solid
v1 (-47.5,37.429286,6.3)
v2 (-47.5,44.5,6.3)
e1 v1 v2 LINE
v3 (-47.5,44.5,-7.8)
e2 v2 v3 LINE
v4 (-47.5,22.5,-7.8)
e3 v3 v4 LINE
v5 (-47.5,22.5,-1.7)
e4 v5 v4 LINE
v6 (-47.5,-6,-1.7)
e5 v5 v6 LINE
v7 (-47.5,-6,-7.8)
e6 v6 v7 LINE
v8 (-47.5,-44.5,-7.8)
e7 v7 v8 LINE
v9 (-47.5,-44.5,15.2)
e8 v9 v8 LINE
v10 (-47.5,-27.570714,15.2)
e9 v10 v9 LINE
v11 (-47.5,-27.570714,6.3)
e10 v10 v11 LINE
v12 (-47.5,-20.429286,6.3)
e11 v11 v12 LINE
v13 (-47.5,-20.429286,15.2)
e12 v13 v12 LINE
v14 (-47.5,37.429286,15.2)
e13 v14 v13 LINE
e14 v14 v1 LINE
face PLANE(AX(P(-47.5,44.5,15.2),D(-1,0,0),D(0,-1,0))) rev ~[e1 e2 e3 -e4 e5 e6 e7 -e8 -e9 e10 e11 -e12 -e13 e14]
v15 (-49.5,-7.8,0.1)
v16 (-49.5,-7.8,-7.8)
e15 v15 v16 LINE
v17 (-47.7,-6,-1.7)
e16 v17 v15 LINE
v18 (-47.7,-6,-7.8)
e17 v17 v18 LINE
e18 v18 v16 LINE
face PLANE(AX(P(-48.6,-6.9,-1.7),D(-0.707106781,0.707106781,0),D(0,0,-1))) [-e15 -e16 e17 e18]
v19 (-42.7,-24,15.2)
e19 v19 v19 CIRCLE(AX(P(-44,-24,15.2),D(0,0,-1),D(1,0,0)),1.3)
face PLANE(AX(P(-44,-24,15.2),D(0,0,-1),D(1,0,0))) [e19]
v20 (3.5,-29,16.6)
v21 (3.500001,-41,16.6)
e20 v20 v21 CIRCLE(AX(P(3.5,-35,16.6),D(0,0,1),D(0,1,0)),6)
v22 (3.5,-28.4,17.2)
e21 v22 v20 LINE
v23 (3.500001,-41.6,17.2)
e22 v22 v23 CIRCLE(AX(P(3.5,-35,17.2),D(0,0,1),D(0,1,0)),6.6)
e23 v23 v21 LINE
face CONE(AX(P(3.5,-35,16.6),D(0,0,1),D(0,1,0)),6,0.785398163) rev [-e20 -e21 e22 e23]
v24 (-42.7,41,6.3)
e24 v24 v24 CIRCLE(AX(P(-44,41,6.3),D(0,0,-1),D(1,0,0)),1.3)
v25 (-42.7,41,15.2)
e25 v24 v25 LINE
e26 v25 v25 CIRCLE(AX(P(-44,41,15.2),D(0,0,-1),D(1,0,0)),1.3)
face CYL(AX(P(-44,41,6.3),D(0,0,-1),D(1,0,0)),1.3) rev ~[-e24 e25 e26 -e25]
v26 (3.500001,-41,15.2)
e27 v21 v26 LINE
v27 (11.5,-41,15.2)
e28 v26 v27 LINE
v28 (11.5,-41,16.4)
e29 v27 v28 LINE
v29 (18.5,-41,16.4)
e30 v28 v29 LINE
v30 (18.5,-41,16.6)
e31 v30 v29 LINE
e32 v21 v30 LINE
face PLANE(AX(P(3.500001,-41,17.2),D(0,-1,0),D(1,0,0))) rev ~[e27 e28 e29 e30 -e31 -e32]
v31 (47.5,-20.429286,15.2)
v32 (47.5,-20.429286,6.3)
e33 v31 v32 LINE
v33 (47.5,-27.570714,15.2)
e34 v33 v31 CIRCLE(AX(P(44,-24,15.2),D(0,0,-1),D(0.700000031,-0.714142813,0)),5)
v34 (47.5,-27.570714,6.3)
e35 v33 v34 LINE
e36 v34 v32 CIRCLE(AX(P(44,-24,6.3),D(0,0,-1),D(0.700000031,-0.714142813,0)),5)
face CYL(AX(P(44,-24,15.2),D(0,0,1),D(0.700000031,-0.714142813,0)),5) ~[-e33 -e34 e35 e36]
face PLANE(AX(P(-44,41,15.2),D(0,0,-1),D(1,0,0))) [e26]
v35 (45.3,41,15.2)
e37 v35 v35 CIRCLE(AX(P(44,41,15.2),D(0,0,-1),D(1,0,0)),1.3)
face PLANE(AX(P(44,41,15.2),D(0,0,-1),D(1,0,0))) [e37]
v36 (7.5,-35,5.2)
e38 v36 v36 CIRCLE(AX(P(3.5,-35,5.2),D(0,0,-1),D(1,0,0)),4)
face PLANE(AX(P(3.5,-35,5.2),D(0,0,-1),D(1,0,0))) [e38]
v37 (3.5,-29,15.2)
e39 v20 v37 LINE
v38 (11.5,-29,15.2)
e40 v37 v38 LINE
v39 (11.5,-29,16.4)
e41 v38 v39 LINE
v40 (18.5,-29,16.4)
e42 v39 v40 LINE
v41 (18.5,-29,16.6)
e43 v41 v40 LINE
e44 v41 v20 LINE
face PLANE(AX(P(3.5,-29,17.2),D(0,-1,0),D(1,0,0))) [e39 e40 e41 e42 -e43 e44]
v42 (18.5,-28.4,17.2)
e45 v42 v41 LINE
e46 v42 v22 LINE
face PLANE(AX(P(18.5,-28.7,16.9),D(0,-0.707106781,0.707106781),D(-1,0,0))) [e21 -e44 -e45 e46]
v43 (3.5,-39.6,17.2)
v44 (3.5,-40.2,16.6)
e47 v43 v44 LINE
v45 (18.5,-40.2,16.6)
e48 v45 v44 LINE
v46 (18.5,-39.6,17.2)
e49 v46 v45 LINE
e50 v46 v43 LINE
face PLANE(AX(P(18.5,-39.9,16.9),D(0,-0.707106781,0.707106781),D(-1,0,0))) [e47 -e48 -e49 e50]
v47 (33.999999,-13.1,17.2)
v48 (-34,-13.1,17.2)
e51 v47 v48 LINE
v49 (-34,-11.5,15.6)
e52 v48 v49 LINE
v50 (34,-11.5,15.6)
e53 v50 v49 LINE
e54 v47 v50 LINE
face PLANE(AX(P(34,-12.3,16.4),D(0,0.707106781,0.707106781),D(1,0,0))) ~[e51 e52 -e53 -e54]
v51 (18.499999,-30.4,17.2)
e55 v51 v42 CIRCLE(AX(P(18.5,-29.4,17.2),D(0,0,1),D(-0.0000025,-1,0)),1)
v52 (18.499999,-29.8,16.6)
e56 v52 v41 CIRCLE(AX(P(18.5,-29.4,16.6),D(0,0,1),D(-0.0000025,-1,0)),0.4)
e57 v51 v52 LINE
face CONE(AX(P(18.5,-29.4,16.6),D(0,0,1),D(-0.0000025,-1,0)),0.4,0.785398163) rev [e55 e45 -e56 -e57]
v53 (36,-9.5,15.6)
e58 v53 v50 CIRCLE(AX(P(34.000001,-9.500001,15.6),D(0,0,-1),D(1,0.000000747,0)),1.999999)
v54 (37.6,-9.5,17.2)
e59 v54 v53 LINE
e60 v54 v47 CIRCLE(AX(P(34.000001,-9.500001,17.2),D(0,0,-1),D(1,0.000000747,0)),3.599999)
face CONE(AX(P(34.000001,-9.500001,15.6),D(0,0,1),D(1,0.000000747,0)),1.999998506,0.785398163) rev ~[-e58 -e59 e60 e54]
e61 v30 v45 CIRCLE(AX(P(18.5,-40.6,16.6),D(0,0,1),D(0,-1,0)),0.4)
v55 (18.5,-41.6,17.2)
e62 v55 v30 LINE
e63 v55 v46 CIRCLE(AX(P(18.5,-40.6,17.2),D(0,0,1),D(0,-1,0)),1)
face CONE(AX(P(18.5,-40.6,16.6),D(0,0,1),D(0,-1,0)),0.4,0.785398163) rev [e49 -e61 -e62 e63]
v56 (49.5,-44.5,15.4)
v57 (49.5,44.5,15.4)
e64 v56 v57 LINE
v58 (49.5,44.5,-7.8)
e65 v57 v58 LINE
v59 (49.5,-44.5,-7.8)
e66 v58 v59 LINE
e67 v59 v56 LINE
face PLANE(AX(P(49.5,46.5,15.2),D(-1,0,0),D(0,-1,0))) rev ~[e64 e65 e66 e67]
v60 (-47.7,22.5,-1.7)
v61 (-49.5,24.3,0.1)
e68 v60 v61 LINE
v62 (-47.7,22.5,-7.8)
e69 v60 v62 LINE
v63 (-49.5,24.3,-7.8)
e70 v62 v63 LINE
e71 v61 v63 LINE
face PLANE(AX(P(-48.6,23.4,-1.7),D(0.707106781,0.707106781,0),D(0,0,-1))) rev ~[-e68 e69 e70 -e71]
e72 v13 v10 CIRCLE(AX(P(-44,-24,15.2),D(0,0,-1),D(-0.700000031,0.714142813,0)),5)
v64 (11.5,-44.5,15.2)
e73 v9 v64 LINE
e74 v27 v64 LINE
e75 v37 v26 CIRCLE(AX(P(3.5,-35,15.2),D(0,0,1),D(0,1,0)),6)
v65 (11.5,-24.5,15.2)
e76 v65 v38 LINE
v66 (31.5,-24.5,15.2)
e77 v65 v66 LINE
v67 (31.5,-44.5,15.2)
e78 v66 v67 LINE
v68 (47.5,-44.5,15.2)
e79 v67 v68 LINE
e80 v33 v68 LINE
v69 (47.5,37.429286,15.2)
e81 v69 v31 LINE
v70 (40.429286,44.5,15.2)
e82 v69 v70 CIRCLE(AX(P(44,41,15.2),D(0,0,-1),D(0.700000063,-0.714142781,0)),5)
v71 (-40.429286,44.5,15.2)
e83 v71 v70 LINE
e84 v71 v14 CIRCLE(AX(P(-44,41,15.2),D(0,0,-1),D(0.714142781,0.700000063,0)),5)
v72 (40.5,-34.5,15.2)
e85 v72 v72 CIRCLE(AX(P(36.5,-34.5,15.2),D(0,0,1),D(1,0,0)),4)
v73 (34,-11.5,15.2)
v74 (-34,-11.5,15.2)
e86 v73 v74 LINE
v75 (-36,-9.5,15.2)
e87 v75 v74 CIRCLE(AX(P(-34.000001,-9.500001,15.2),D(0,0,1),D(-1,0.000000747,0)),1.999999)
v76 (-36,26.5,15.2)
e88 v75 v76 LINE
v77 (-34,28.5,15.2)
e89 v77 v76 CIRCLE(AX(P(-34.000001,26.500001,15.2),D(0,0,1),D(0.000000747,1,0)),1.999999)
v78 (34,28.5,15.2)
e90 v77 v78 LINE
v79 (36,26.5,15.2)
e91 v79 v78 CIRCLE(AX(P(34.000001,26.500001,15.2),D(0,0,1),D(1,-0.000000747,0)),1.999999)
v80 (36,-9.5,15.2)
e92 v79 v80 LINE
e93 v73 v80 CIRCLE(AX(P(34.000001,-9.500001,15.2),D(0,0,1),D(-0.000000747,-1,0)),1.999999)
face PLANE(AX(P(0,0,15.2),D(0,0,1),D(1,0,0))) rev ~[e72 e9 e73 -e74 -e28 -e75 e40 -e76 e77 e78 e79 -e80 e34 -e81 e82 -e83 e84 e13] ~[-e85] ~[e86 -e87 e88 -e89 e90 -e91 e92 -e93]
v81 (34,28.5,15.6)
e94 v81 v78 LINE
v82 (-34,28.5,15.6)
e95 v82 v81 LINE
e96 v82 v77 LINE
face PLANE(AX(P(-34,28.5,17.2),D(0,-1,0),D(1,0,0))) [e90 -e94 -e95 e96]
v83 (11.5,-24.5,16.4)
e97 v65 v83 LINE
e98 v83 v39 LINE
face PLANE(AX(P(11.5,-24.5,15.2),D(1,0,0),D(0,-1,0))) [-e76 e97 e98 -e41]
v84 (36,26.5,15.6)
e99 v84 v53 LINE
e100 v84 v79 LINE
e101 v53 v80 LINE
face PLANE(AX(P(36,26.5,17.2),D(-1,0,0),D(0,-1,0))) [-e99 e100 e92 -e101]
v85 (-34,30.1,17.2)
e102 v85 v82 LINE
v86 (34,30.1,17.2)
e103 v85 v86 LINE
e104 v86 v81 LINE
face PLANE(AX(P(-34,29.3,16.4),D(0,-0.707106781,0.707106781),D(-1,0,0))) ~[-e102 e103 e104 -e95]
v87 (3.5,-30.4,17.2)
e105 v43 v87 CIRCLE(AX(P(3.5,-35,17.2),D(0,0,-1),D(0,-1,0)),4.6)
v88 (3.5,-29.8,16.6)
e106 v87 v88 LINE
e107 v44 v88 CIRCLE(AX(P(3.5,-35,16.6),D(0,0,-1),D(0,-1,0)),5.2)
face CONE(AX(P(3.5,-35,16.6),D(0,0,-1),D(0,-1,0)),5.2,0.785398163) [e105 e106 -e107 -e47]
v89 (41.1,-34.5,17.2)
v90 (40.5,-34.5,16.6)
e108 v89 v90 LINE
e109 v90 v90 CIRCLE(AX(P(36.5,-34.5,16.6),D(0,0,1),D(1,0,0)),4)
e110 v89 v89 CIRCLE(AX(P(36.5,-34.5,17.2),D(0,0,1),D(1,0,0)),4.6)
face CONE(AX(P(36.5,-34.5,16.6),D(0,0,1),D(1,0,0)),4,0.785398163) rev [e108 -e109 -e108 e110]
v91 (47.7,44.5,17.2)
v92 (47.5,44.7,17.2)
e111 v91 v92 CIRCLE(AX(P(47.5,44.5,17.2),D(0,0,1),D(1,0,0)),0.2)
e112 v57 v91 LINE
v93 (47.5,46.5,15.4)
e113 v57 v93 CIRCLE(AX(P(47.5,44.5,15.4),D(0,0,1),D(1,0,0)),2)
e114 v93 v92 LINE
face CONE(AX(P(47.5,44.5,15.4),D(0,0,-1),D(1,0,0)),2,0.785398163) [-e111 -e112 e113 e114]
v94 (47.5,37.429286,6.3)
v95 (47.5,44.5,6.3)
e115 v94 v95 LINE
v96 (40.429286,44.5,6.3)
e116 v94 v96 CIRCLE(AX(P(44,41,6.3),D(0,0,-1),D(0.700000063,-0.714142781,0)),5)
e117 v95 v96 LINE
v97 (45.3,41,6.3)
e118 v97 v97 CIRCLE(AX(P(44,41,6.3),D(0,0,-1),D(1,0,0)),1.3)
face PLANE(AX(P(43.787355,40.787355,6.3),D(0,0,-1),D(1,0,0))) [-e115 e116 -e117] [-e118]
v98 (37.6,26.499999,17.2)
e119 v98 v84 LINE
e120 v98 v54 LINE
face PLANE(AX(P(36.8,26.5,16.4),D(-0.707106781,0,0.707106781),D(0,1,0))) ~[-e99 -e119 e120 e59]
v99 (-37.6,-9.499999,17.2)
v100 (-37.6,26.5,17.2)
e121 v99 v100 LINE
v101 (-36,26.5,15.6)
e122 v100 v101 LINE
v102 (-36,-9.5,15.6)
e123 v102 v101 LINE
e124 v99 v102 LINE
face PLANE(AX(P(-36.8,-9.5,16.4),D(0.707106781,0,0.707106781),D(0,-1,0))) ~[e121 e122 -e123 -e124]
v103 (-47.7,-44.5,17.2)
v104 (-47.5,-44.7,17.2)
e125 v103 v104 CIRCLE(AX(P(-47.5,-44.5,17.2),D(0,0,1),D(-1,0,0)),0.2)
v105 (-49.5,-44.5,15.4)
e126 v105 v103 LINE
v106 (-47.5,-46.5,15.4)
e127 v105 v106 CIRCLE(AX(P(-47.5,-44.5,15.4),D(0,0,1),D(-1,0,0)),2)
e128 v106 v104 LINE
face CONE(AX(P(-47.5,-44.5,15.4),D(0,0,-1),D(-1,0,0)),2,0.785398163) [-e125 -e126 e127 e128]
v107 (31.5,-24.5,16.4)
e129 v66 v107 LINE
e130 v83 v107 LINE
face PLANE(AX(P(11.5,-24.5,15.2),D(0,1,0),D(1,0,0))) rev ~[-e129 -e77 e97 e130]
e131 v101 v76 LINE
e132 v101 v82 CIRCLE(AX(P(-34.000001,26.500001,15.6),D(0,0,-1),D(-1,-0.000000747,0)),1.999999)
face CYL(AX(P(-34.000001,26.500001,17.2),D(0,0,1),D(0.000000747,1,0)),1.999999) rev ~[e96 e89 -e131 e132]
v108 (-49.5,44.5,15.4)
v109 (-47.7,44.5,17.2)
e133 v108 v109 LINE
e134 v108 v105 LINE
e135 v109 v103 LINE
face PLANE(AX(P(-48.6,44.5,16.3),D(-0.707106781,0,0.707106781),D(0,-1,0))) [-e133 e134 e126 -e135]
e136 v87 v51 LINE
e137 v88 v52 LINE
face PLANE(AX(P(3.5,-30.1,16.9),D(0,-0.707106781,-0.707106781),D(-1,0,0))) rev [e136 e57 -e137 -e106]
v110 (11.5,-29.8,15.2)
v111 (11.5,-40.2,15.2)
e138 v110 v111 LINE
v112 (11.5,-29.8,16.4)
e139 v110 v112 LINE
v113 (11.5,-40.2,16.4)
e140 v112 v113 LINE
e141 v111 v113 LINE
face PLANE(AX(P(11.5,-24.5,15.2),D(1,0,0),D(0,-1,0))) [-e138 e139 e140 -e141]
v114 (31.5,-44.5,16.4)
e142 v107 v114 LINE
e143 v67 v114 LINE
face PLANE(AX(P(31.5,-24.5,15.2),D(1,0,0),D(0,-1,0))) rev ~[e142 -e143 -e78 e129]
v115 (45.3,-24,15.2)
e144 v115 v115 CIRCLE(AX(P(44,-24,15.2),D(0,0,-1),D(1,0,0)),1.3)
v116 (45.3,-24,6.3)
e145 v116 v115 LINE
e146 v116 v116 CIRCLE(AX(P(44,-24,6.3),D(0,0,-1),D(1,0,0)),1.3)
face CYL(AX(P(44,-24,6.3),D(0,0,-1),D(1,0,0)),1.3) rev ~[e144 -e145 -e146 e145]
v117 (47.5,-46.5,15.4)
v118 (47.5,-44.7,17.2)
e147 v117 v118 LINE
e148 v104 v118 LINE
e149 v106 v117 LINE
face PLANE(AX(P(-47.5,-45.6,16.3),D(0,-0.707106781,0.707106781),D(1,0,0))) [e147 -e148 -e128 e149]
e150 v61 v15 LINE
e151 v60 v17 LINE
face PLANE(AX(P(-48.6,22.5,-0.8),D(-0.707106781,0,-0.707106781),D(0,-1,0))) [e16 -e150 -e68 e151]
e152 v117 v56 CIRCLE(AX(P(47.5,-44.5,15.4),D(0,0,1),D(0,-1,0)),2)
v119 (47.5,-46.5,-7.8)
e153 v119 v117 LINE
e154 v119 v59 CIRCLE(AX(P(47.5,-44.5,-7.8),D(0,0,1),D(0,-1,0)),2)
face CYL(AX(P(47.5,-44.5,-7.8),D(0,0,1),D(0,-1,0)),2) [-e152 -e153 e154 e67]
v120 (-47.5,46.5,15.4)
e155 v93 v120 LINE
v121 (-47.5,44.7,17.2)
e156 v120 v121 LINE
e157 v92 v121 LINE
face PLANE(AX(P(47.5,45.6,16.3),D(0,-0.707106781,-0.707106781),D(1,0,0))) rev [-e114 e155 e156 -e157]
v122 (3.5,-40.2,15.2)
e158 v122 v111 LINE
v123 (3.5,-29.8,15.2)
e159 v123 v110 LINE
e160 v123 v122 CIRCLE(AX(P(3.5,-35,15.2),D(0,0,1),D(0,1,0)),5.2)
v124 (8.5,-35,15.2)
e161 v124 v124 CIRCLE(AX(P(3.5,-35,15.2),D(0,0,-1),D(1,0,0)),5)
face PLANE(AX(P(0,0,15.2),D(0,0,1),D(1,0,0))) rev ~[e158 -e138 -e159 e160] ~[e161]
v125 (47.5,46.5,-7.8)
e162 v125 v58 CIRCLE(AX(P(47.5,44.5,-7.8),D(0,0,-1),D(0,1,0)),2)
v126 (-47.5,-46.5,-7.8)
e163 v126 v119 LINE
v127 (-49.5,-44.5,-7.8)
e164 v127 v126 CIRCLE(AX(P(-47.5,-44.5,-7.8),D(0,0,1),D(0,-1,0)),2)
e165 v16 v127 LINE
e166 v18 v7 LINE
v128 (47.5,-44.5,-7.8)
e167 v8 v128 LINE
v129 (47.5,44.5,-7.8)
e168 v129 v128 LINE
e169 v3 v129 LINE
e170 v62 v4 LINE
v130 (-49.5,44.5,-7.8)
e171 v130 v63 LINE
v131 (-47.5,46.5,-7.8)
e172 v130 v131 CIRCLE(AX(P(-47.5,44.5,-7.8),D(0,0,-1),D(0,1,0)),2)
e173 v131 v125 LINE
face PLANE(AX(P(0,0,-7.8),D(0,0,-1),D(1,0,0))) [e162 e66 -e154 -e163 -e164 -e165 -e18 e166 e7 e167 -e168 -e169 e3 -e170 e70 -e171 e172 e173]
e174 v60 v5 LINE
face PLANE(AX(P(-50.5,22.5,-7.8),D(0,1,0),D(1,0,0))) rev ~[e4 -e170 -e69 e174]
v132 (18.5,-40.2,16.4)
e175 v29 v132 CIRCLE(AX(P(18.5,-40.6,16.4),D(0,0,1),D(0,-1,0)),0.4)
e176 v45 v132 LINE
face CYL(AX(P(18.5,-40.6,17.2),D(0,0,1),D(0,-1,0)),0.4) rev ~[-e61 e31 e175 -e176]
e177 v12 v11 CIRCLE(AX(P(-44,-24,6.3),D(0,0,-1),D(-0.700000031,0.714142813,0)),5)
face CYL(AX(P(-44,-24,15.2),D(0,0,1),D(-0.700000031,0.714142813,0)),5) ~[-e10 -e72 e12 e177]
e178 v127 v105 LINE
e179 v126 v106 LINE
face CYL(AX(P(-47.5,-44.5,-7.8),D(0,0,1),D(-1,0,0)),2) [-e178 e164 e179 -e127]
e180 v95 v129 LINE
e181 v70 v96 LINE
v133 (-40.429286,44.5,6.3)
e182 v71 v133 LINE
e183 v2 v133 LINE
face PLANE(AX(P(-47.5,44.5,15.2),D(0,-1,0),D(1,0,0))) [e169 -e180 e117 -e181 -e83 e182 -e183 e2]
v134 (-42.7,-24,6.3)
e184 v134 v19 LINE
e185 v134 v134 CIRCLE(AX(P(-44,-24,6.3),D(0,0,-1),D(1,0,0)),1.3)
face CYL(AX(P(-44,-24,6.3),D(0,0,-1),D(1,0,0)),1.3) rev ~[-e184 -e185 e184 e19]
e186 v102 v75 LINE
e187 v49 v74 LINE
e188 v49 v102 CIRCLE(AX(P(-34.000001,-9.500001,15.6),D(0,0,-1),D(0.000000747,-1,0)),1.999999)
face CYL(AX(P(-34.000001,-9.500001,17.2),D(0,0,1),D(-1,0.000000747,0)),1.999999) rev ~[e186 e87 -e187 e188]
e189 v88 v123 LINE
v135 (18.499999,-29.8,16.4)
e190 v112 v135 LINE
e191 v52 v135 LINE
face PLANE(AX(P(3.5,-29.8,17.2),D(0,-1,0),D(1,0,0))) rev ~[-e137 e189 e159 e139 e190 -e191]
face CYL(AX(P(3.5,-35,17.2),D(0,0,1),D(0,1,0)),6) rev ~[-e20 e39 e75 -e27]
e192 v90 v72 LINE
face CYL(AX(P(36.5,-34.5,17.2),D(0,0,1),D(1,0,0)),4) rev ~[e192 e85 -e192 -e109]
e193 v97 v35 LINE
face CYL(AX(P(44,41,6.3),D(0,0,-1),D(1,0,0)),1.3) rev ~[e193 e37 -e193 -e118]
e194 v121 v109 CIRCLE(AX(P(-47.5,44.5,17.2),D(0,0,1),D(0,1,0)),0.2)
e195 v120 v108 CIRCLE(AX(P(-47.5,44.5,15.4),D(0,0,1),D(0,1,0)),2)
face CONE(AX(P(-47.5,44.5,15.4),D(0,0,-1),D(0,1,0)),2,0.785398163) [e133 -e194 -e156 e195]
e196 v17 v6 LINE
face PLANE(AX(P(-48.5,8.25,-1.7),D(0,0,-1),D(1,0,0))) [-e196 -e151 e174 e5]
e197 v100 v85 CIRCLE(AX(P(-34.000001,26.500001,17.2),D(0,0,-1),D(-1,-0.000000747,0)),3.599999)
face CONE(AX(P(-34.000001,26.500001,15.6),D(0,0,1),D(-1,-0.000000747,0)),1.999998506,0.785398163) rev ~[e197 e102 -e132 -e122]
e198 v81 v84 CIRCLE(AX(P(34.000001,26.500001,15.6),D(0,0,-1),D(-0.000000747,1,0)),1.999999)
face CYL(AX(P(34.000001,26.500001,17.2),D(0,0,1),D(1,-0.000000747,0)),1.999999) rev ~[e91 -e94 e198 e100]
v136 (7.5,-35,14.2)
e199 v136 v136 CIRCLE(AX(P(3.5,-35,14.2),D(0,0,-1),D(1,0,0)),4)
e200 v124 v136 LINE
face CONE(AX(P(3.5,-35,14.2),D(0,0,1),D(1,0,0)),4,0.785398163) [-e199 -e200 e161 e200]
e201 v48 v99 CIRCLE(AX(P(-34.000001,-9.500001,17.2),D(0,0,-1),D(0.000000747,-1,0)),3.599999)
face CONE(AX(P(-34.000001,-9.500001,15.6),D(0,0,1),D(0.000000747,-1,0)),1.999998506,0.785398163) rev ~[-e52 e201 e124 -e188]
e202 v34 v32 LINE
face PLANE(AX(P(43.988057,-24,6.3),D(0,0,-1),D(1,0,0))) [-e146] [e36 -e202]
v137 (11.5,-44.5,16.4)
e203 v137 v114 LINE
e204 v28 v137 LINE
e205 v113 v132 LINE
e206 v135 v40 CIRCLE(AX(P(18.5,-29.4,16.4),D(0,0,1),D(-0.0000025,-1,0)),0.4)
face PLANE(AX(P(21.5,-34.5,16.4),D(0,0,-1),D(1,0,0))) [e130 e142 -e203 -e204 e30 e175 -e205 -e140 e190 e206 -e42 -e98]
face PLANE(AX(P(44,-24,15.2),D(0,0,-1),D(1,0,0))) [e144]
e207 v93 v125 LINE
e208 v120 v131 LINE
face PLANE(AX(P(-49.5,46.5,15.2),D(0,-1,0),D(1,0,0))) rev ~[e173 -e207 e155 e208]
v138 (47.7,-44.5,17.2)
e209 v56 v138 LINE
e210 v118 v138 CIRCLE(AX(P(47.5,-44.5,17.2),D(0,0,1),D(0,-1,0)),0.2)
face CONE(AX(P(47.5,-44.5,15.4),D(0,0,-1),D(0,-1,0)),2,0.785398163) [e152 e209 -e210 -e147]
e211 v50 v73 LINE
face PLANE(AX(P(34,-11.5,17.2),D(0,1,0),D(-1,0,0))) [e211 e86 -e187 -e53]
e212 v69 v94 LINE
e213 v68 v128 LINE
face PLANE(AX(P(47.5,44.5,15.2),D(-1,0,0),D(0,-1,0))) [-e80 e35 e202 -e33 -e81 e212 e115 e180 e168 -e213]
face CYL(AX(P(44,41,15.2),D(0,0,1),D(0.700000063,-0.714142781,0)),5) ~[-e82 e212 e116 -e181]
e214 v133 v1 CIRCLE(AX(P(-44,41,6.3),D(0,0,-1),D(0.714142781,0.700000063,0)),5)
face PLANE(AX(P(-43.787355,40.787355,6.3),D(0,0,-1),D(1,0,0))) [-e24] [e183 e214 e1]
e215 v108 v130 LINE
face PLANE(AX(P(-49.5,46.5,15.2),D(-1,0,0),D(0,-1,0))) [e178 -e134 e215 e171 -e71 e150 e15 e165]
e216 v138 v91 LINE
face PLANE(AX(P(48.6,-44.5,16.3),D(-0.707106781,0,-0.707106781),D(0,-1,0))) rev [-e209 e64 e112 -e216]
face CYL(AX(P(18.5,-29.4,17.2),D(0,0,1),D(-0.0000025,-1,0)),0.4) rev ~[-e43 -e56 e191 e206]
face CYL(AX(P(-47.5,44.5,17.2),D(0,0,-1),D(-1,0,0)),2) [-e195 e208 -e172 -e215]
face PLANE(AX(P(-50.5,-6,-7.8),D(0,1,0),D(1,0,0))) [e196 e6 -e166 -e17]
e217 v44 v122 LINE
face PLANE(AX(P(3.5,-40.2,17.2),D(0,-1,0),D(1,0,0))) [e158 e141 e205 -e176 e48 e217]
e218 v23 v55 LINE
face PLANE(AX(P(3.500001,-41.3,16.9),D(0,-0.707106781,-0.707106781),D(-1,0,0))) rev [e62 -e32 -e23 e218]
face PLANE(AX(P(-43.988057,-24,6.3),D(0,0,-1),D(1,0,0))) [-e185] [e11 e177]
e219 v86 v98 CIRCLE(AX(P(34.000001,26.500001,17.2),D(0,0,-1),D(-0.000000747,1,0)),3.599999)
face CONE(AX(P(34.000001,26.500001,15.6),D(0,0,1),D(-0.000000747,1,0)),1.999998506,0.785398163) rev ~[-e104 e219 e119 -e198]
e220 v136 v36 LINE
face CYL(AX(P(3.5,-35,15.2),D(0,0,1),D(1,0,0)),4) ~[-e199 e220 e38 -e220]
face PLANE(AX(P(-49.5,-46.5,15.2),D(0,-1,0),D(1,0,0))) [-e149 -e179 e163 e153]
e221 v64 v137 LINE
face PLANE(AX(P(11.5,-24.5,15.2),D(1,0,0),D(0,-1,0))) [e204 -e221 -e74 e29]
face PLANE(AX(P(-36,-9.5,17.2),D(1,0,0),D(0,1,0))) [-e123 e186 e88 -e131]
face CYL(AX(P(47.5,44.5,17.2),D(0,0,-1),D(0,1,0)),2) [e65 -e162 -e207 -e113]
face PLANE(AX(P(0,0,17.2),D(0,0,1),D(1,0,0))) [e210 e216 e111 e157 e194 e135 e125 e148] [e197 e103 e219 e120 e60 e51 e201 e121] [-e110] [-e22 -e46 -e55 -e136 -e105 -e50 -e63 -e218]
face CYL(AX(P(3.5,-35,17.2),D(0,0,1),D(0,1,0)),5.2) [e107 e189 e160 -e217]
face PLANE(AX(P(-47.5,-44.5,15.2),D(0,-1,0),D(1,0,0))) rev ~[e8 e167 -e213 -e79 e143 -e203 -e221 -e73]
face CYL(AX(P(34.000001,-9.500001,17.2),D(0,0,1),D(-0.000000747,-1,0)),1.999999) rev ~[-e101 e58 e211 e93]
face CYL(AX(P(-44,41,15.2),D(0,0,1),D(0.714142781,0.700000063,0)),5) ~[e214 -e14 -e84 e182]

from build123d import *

# Parameters (mm, degrees)
SKETCH001018_W   = 99
SKETCH001018_H   = 93
PAD013_DEPTH     = 2
SKETCH001019_R   = 4
POCKET004_DEPTH  = 2.001
SKETCH001020_W   = 99
SKETCH001020_H   = 93
SKETCH001020_W_2 = 95
SKETCH001020_H_2 = 89
PAD014_DEPTH     = 23
PAD015_DEPTH     = 8.9
SKETCH001022_R   = 1.3
POCKET005_DEPTH  = 8.9
FILLET004_R      = 2
CHAMFER001_SIZE  = 1.8
CHAMFER002_SIZE  = 1.6
SKETCH001023_R   = 4
PAD016_DEPTH     = 10
CHAMFER003_SIZE  = 1
SKETCH001024_W   = 20
SKETCH001024_H   = 20
POCKET006_DEPTH  = 1.2
SKETCH001025_W   = 4
SKETCH001025_H   = 28.5
POCKET007_DEPTH  = 6.1
CHAMFER004_SIZE  = 1.8
CHAMFER005_SIZE  = 0.6
CHAMFER006_SIZE  = 0.6


with BuildPart() as part:
    # Sketch001018 → Pad013 (new body)
    with BuildSketch(Plane.XY.offset(15.2)):
        Rectangle(SKETCH001018_W, SKETCH001018_H)
    extrude(amount=PAD013_DEPTH)

    # Sketch001019 → Pocket004 (cut, through all)
    with BuildSketch(Plane.XY.offset(17.2)):
        with Locations((36.5, -34.5)):
            Circle(SKETCH001019_R)
        with BuildLine():
            Line((-34, 28.5), (34, 28.5))
            ThreePointArc((36, 26.5), (35.414214, 27.914214), (34, 28.5))
            Line((36, 26.5), (36, -9.5))
            ThreePointArc((34, -11.5), (35.414214, -10.914214), (36, -9.5))
            Line((34, -11.5), (-34, -11.5))
            ThreePointArc((-36, -9.5), (-35.414214, -10.914214), (-34, -11.5))
            Line((-36, -9.5), (-36, 26.5))
            ThreePointArc((-34, 28.5), (-35.414214, 27.914214), (-36, 26.5))
        make_face()
        with BuildLine():
            ThreePointArc((3.5, -29.8), (-1.7, -35), (3.5, -40.2))
            Line((3.5, -40.2), (18.5, -40.2))
            ThreePointArc((18.5, -41), (18.9, -40.6), (18.5, -40.2))
            Line((3.500001, -41), (18.5, -41))
            ThreePointArc((3.5, -29), (-2.5, -35), (3.500001, -41))
            Line((3.5, -29), (18.5, -29))
            ThreePointArc((18.499999, -29.8), (18.9, -29.4), (18.5, -29))
            Line((3.5, -29.8), (18.499999, -29.8))
        make_face()
    extrude(amount=-POCKET004_DEPTH, mode=Mode.SUBTRACT)

    # Sketch001020 → Pad014 (new body)
    with BuildSketch(Plane(origin=(0, 0, 15.2), x_dir=(1, 0, 0), z_dir=(0, 0, -1))):
        Rectangle(SKETCH001020_W, SKETCH001020_H)
        Rectangle(SKETCH001020_W_2, SKETCH001020_H_2, mode=Mode.SUBTRACT)
    extrude(amount=PAD014_DEPTH)

    # Sketch001021 → Pad015 (new body)
    with BuildSketch(Plane(origin=(0, 0, 15.2), x_dir=(1, 0, 0), z_dir=(0, 0, -1))):
        with BuildLine():
            ThreePointArc((-40.429286, -44.5), (-40.464466, -37.464466), (-47.5, -37.429286))
            Line((-47.5, -37.429286), (-47.5, -44.5))
            Line((-47.5, -44.5), (-40.429286, -44.5))
        make_face()
        with BuildLine():
            ThreePointArc((-47.5, 20.429286), (-39, 24), (-47.5, 27.570714))
            Line((-47.5, 27.570714), (-47.5, 20.429286))
        make_face()
        with BuildLine():
            ThreePointArc((47.5, 27.570714), (39, 24), (47.5, 20.429286))
            Line((47.5, 27.570714), (47.5, 20.429286))
        make_face()
        with BuildLine():
            ThreePointArc((47.5, -37.429286), (40.464466, -37.464466), (40.429286, -44.5))
            Line((47.5, -44.5), (40.429286, -44.5))
            Line((47.5, -37.429286), (47.5, -44.5))
        make_face()
    extrude(amount=PAD015_DEPTH)

    # Sketch001022 → Pocket005 (cut)
    with BuildSketch(Plane(origin=(0, 0, 6.3), x_dir=(1, 0, 0), z_dir=(0, 0, -1))):
        with Locations((-44, 24)):
            Circle(SKETCH001022_R)
        with Locations((44, 24)):
            Circle(SKETCH001022_R)
        with Locations((-44, -41)):
            Circle(SKETCH001022_R)
        with Locations((44, -41)):
            Circle(SKETCH001022_R)
    extrude(amount=-POCKET005_DEPTH, mode=Mode.SUBTRACT)

    # Fillet004
    fillet004_edges = [part.edges().sort_by_distance(p)[0] for p in [
        (-49.5, -46.5, 3.7),
        (-49.5, -46.5, 16.2),
        (-49.5, 46.5, 16.2),
        (-49.5, 46.5, 3.7),
        (49.5, 46.5, 16.2),
        (49.5, 46.5, 3.7),
        (49.5, -46.5, 16.2),
        (49.5, -46.5, 3.7),
    ]]
    fillet(fillet004_edges, radius=FILLET004_R)

    # Chamfer001
    chamfer001_edges = [part.edges().sort_by_distance(p)[0] for p in [
        (0, -46.5, 17.2),
        (-48.914214, -45.914214, 17.2),
        (-49.5, 0, 17.2),
        (48.914214, -45.914214, 17.2),
        (49.5, 0, 17.2),
        (48.914214, 45.914214, 17.2),
        (0, 46.5, 17.2),
        (-48.914214, 45.914214, 17.2),
    ]]
    chamfer(chamfer001_edges, length=CHAMFER001_SIZE)

    # Chamfer002
    chamfer002_edges = [part.edges().sort_by_distance(p)[0] for p in [
        (0, 28.5, 17.2),
        (35.414214, 27.914214, 17.2),
        (36, 8.5, 17.2),
        (35.414214, -10.914214, 17.2),
        (-35.414214, 27.914214, 17.2),
        (-36, 8.5, 17.2),
        (-35.414214, -10.914214, 17.2),
        (0, -11.5, 17.2),
    ]]
    chamfer(chamfer002_edges, length=CHAMFER002_SIZE)

    # Sketch001023 → Pad016 (new body)
    with BuildSketch(Plane(origin=(0, 0, 15.2), x_dir=(1, 0, 0), z_dir=(0, 0, -1))):
        with Locations((3.5, 35)):
            Circle(SKETCH001023_R)
    extrude(amount=PAD016_DEPTH)

    # Chamfer003
    chamfer003_edges = [part.edges().sort_by_distance(p)[0] for p in [
        (-0.5, -35, 15.2),
    ]]
    chamfer(chamfer003_edges, length=CHAMFER003_SIZE)

    # Sketch001024 → Pocket006 (cut)
    with BuildSketch(Plane(origin=(0, 0, 15.2), x_dir=(1, 0, 0), z_dir=(0, 0, -1))):
        with Locations((21.5, 34.5)):
            Rectangle(SKETCH001024_W, SKETCH001024_H)
    extrude(amount=-POCKET006_DEPTH, mode=Mode.SUBTRACT)

    # Sketch001025 → Pocket007 (cut)
    with BuildSketch(Plane(origin=(0, 0, -7.8), x_dir=(1, 0, 0), z_dir=(0, 0, -1))):
        with Locations((-48.5, -8.25)):
            Rectangle(SKETCH001025_W, SKETCH001025_H)
    extrude(amount=-POCKET007_DEPTH, mode=Mode.SUBTRACT)

    # Chamfer004
    chamfer004_edges = [part.edges().sort_by_distance(p)[0] for p in [
        (-49.5, -6, -4.75),
        (-49.5, 8.25, -1.7),
        (-49.5, 22.5, -4.75),
    ]]
    chamfer(chamfer004_edges, length=CHAMFER004_SIZE)

    # Chamfer005
    chamfer005_edges = [part.edges().sort_by_distance(p)[0] for p in [
        (11, -29.8, 17.2),
        (18.9, -29.4, 17.2),
        (11, -29, 17.2),
        (-2.5, -35, 17.2),
        (-1.7, -35, 17.2),
        (11, -40.2, 17.2),
        (11, -41, 17.2),
        (18.9, -40.6, 17.2),
    ]]
    chamfer(chamfer005_edges, length=CHAMFER005_SIZE)

    # Chamfer006
    chamfer006_edges = [part.edges().sort_by_distance(p)[0] for p in [
        (32.5, -34.5, 17.2),
    ]]
    chamfer(chamfer006_edges, length=CHAMFER006_SIZE)


solid = part.part
